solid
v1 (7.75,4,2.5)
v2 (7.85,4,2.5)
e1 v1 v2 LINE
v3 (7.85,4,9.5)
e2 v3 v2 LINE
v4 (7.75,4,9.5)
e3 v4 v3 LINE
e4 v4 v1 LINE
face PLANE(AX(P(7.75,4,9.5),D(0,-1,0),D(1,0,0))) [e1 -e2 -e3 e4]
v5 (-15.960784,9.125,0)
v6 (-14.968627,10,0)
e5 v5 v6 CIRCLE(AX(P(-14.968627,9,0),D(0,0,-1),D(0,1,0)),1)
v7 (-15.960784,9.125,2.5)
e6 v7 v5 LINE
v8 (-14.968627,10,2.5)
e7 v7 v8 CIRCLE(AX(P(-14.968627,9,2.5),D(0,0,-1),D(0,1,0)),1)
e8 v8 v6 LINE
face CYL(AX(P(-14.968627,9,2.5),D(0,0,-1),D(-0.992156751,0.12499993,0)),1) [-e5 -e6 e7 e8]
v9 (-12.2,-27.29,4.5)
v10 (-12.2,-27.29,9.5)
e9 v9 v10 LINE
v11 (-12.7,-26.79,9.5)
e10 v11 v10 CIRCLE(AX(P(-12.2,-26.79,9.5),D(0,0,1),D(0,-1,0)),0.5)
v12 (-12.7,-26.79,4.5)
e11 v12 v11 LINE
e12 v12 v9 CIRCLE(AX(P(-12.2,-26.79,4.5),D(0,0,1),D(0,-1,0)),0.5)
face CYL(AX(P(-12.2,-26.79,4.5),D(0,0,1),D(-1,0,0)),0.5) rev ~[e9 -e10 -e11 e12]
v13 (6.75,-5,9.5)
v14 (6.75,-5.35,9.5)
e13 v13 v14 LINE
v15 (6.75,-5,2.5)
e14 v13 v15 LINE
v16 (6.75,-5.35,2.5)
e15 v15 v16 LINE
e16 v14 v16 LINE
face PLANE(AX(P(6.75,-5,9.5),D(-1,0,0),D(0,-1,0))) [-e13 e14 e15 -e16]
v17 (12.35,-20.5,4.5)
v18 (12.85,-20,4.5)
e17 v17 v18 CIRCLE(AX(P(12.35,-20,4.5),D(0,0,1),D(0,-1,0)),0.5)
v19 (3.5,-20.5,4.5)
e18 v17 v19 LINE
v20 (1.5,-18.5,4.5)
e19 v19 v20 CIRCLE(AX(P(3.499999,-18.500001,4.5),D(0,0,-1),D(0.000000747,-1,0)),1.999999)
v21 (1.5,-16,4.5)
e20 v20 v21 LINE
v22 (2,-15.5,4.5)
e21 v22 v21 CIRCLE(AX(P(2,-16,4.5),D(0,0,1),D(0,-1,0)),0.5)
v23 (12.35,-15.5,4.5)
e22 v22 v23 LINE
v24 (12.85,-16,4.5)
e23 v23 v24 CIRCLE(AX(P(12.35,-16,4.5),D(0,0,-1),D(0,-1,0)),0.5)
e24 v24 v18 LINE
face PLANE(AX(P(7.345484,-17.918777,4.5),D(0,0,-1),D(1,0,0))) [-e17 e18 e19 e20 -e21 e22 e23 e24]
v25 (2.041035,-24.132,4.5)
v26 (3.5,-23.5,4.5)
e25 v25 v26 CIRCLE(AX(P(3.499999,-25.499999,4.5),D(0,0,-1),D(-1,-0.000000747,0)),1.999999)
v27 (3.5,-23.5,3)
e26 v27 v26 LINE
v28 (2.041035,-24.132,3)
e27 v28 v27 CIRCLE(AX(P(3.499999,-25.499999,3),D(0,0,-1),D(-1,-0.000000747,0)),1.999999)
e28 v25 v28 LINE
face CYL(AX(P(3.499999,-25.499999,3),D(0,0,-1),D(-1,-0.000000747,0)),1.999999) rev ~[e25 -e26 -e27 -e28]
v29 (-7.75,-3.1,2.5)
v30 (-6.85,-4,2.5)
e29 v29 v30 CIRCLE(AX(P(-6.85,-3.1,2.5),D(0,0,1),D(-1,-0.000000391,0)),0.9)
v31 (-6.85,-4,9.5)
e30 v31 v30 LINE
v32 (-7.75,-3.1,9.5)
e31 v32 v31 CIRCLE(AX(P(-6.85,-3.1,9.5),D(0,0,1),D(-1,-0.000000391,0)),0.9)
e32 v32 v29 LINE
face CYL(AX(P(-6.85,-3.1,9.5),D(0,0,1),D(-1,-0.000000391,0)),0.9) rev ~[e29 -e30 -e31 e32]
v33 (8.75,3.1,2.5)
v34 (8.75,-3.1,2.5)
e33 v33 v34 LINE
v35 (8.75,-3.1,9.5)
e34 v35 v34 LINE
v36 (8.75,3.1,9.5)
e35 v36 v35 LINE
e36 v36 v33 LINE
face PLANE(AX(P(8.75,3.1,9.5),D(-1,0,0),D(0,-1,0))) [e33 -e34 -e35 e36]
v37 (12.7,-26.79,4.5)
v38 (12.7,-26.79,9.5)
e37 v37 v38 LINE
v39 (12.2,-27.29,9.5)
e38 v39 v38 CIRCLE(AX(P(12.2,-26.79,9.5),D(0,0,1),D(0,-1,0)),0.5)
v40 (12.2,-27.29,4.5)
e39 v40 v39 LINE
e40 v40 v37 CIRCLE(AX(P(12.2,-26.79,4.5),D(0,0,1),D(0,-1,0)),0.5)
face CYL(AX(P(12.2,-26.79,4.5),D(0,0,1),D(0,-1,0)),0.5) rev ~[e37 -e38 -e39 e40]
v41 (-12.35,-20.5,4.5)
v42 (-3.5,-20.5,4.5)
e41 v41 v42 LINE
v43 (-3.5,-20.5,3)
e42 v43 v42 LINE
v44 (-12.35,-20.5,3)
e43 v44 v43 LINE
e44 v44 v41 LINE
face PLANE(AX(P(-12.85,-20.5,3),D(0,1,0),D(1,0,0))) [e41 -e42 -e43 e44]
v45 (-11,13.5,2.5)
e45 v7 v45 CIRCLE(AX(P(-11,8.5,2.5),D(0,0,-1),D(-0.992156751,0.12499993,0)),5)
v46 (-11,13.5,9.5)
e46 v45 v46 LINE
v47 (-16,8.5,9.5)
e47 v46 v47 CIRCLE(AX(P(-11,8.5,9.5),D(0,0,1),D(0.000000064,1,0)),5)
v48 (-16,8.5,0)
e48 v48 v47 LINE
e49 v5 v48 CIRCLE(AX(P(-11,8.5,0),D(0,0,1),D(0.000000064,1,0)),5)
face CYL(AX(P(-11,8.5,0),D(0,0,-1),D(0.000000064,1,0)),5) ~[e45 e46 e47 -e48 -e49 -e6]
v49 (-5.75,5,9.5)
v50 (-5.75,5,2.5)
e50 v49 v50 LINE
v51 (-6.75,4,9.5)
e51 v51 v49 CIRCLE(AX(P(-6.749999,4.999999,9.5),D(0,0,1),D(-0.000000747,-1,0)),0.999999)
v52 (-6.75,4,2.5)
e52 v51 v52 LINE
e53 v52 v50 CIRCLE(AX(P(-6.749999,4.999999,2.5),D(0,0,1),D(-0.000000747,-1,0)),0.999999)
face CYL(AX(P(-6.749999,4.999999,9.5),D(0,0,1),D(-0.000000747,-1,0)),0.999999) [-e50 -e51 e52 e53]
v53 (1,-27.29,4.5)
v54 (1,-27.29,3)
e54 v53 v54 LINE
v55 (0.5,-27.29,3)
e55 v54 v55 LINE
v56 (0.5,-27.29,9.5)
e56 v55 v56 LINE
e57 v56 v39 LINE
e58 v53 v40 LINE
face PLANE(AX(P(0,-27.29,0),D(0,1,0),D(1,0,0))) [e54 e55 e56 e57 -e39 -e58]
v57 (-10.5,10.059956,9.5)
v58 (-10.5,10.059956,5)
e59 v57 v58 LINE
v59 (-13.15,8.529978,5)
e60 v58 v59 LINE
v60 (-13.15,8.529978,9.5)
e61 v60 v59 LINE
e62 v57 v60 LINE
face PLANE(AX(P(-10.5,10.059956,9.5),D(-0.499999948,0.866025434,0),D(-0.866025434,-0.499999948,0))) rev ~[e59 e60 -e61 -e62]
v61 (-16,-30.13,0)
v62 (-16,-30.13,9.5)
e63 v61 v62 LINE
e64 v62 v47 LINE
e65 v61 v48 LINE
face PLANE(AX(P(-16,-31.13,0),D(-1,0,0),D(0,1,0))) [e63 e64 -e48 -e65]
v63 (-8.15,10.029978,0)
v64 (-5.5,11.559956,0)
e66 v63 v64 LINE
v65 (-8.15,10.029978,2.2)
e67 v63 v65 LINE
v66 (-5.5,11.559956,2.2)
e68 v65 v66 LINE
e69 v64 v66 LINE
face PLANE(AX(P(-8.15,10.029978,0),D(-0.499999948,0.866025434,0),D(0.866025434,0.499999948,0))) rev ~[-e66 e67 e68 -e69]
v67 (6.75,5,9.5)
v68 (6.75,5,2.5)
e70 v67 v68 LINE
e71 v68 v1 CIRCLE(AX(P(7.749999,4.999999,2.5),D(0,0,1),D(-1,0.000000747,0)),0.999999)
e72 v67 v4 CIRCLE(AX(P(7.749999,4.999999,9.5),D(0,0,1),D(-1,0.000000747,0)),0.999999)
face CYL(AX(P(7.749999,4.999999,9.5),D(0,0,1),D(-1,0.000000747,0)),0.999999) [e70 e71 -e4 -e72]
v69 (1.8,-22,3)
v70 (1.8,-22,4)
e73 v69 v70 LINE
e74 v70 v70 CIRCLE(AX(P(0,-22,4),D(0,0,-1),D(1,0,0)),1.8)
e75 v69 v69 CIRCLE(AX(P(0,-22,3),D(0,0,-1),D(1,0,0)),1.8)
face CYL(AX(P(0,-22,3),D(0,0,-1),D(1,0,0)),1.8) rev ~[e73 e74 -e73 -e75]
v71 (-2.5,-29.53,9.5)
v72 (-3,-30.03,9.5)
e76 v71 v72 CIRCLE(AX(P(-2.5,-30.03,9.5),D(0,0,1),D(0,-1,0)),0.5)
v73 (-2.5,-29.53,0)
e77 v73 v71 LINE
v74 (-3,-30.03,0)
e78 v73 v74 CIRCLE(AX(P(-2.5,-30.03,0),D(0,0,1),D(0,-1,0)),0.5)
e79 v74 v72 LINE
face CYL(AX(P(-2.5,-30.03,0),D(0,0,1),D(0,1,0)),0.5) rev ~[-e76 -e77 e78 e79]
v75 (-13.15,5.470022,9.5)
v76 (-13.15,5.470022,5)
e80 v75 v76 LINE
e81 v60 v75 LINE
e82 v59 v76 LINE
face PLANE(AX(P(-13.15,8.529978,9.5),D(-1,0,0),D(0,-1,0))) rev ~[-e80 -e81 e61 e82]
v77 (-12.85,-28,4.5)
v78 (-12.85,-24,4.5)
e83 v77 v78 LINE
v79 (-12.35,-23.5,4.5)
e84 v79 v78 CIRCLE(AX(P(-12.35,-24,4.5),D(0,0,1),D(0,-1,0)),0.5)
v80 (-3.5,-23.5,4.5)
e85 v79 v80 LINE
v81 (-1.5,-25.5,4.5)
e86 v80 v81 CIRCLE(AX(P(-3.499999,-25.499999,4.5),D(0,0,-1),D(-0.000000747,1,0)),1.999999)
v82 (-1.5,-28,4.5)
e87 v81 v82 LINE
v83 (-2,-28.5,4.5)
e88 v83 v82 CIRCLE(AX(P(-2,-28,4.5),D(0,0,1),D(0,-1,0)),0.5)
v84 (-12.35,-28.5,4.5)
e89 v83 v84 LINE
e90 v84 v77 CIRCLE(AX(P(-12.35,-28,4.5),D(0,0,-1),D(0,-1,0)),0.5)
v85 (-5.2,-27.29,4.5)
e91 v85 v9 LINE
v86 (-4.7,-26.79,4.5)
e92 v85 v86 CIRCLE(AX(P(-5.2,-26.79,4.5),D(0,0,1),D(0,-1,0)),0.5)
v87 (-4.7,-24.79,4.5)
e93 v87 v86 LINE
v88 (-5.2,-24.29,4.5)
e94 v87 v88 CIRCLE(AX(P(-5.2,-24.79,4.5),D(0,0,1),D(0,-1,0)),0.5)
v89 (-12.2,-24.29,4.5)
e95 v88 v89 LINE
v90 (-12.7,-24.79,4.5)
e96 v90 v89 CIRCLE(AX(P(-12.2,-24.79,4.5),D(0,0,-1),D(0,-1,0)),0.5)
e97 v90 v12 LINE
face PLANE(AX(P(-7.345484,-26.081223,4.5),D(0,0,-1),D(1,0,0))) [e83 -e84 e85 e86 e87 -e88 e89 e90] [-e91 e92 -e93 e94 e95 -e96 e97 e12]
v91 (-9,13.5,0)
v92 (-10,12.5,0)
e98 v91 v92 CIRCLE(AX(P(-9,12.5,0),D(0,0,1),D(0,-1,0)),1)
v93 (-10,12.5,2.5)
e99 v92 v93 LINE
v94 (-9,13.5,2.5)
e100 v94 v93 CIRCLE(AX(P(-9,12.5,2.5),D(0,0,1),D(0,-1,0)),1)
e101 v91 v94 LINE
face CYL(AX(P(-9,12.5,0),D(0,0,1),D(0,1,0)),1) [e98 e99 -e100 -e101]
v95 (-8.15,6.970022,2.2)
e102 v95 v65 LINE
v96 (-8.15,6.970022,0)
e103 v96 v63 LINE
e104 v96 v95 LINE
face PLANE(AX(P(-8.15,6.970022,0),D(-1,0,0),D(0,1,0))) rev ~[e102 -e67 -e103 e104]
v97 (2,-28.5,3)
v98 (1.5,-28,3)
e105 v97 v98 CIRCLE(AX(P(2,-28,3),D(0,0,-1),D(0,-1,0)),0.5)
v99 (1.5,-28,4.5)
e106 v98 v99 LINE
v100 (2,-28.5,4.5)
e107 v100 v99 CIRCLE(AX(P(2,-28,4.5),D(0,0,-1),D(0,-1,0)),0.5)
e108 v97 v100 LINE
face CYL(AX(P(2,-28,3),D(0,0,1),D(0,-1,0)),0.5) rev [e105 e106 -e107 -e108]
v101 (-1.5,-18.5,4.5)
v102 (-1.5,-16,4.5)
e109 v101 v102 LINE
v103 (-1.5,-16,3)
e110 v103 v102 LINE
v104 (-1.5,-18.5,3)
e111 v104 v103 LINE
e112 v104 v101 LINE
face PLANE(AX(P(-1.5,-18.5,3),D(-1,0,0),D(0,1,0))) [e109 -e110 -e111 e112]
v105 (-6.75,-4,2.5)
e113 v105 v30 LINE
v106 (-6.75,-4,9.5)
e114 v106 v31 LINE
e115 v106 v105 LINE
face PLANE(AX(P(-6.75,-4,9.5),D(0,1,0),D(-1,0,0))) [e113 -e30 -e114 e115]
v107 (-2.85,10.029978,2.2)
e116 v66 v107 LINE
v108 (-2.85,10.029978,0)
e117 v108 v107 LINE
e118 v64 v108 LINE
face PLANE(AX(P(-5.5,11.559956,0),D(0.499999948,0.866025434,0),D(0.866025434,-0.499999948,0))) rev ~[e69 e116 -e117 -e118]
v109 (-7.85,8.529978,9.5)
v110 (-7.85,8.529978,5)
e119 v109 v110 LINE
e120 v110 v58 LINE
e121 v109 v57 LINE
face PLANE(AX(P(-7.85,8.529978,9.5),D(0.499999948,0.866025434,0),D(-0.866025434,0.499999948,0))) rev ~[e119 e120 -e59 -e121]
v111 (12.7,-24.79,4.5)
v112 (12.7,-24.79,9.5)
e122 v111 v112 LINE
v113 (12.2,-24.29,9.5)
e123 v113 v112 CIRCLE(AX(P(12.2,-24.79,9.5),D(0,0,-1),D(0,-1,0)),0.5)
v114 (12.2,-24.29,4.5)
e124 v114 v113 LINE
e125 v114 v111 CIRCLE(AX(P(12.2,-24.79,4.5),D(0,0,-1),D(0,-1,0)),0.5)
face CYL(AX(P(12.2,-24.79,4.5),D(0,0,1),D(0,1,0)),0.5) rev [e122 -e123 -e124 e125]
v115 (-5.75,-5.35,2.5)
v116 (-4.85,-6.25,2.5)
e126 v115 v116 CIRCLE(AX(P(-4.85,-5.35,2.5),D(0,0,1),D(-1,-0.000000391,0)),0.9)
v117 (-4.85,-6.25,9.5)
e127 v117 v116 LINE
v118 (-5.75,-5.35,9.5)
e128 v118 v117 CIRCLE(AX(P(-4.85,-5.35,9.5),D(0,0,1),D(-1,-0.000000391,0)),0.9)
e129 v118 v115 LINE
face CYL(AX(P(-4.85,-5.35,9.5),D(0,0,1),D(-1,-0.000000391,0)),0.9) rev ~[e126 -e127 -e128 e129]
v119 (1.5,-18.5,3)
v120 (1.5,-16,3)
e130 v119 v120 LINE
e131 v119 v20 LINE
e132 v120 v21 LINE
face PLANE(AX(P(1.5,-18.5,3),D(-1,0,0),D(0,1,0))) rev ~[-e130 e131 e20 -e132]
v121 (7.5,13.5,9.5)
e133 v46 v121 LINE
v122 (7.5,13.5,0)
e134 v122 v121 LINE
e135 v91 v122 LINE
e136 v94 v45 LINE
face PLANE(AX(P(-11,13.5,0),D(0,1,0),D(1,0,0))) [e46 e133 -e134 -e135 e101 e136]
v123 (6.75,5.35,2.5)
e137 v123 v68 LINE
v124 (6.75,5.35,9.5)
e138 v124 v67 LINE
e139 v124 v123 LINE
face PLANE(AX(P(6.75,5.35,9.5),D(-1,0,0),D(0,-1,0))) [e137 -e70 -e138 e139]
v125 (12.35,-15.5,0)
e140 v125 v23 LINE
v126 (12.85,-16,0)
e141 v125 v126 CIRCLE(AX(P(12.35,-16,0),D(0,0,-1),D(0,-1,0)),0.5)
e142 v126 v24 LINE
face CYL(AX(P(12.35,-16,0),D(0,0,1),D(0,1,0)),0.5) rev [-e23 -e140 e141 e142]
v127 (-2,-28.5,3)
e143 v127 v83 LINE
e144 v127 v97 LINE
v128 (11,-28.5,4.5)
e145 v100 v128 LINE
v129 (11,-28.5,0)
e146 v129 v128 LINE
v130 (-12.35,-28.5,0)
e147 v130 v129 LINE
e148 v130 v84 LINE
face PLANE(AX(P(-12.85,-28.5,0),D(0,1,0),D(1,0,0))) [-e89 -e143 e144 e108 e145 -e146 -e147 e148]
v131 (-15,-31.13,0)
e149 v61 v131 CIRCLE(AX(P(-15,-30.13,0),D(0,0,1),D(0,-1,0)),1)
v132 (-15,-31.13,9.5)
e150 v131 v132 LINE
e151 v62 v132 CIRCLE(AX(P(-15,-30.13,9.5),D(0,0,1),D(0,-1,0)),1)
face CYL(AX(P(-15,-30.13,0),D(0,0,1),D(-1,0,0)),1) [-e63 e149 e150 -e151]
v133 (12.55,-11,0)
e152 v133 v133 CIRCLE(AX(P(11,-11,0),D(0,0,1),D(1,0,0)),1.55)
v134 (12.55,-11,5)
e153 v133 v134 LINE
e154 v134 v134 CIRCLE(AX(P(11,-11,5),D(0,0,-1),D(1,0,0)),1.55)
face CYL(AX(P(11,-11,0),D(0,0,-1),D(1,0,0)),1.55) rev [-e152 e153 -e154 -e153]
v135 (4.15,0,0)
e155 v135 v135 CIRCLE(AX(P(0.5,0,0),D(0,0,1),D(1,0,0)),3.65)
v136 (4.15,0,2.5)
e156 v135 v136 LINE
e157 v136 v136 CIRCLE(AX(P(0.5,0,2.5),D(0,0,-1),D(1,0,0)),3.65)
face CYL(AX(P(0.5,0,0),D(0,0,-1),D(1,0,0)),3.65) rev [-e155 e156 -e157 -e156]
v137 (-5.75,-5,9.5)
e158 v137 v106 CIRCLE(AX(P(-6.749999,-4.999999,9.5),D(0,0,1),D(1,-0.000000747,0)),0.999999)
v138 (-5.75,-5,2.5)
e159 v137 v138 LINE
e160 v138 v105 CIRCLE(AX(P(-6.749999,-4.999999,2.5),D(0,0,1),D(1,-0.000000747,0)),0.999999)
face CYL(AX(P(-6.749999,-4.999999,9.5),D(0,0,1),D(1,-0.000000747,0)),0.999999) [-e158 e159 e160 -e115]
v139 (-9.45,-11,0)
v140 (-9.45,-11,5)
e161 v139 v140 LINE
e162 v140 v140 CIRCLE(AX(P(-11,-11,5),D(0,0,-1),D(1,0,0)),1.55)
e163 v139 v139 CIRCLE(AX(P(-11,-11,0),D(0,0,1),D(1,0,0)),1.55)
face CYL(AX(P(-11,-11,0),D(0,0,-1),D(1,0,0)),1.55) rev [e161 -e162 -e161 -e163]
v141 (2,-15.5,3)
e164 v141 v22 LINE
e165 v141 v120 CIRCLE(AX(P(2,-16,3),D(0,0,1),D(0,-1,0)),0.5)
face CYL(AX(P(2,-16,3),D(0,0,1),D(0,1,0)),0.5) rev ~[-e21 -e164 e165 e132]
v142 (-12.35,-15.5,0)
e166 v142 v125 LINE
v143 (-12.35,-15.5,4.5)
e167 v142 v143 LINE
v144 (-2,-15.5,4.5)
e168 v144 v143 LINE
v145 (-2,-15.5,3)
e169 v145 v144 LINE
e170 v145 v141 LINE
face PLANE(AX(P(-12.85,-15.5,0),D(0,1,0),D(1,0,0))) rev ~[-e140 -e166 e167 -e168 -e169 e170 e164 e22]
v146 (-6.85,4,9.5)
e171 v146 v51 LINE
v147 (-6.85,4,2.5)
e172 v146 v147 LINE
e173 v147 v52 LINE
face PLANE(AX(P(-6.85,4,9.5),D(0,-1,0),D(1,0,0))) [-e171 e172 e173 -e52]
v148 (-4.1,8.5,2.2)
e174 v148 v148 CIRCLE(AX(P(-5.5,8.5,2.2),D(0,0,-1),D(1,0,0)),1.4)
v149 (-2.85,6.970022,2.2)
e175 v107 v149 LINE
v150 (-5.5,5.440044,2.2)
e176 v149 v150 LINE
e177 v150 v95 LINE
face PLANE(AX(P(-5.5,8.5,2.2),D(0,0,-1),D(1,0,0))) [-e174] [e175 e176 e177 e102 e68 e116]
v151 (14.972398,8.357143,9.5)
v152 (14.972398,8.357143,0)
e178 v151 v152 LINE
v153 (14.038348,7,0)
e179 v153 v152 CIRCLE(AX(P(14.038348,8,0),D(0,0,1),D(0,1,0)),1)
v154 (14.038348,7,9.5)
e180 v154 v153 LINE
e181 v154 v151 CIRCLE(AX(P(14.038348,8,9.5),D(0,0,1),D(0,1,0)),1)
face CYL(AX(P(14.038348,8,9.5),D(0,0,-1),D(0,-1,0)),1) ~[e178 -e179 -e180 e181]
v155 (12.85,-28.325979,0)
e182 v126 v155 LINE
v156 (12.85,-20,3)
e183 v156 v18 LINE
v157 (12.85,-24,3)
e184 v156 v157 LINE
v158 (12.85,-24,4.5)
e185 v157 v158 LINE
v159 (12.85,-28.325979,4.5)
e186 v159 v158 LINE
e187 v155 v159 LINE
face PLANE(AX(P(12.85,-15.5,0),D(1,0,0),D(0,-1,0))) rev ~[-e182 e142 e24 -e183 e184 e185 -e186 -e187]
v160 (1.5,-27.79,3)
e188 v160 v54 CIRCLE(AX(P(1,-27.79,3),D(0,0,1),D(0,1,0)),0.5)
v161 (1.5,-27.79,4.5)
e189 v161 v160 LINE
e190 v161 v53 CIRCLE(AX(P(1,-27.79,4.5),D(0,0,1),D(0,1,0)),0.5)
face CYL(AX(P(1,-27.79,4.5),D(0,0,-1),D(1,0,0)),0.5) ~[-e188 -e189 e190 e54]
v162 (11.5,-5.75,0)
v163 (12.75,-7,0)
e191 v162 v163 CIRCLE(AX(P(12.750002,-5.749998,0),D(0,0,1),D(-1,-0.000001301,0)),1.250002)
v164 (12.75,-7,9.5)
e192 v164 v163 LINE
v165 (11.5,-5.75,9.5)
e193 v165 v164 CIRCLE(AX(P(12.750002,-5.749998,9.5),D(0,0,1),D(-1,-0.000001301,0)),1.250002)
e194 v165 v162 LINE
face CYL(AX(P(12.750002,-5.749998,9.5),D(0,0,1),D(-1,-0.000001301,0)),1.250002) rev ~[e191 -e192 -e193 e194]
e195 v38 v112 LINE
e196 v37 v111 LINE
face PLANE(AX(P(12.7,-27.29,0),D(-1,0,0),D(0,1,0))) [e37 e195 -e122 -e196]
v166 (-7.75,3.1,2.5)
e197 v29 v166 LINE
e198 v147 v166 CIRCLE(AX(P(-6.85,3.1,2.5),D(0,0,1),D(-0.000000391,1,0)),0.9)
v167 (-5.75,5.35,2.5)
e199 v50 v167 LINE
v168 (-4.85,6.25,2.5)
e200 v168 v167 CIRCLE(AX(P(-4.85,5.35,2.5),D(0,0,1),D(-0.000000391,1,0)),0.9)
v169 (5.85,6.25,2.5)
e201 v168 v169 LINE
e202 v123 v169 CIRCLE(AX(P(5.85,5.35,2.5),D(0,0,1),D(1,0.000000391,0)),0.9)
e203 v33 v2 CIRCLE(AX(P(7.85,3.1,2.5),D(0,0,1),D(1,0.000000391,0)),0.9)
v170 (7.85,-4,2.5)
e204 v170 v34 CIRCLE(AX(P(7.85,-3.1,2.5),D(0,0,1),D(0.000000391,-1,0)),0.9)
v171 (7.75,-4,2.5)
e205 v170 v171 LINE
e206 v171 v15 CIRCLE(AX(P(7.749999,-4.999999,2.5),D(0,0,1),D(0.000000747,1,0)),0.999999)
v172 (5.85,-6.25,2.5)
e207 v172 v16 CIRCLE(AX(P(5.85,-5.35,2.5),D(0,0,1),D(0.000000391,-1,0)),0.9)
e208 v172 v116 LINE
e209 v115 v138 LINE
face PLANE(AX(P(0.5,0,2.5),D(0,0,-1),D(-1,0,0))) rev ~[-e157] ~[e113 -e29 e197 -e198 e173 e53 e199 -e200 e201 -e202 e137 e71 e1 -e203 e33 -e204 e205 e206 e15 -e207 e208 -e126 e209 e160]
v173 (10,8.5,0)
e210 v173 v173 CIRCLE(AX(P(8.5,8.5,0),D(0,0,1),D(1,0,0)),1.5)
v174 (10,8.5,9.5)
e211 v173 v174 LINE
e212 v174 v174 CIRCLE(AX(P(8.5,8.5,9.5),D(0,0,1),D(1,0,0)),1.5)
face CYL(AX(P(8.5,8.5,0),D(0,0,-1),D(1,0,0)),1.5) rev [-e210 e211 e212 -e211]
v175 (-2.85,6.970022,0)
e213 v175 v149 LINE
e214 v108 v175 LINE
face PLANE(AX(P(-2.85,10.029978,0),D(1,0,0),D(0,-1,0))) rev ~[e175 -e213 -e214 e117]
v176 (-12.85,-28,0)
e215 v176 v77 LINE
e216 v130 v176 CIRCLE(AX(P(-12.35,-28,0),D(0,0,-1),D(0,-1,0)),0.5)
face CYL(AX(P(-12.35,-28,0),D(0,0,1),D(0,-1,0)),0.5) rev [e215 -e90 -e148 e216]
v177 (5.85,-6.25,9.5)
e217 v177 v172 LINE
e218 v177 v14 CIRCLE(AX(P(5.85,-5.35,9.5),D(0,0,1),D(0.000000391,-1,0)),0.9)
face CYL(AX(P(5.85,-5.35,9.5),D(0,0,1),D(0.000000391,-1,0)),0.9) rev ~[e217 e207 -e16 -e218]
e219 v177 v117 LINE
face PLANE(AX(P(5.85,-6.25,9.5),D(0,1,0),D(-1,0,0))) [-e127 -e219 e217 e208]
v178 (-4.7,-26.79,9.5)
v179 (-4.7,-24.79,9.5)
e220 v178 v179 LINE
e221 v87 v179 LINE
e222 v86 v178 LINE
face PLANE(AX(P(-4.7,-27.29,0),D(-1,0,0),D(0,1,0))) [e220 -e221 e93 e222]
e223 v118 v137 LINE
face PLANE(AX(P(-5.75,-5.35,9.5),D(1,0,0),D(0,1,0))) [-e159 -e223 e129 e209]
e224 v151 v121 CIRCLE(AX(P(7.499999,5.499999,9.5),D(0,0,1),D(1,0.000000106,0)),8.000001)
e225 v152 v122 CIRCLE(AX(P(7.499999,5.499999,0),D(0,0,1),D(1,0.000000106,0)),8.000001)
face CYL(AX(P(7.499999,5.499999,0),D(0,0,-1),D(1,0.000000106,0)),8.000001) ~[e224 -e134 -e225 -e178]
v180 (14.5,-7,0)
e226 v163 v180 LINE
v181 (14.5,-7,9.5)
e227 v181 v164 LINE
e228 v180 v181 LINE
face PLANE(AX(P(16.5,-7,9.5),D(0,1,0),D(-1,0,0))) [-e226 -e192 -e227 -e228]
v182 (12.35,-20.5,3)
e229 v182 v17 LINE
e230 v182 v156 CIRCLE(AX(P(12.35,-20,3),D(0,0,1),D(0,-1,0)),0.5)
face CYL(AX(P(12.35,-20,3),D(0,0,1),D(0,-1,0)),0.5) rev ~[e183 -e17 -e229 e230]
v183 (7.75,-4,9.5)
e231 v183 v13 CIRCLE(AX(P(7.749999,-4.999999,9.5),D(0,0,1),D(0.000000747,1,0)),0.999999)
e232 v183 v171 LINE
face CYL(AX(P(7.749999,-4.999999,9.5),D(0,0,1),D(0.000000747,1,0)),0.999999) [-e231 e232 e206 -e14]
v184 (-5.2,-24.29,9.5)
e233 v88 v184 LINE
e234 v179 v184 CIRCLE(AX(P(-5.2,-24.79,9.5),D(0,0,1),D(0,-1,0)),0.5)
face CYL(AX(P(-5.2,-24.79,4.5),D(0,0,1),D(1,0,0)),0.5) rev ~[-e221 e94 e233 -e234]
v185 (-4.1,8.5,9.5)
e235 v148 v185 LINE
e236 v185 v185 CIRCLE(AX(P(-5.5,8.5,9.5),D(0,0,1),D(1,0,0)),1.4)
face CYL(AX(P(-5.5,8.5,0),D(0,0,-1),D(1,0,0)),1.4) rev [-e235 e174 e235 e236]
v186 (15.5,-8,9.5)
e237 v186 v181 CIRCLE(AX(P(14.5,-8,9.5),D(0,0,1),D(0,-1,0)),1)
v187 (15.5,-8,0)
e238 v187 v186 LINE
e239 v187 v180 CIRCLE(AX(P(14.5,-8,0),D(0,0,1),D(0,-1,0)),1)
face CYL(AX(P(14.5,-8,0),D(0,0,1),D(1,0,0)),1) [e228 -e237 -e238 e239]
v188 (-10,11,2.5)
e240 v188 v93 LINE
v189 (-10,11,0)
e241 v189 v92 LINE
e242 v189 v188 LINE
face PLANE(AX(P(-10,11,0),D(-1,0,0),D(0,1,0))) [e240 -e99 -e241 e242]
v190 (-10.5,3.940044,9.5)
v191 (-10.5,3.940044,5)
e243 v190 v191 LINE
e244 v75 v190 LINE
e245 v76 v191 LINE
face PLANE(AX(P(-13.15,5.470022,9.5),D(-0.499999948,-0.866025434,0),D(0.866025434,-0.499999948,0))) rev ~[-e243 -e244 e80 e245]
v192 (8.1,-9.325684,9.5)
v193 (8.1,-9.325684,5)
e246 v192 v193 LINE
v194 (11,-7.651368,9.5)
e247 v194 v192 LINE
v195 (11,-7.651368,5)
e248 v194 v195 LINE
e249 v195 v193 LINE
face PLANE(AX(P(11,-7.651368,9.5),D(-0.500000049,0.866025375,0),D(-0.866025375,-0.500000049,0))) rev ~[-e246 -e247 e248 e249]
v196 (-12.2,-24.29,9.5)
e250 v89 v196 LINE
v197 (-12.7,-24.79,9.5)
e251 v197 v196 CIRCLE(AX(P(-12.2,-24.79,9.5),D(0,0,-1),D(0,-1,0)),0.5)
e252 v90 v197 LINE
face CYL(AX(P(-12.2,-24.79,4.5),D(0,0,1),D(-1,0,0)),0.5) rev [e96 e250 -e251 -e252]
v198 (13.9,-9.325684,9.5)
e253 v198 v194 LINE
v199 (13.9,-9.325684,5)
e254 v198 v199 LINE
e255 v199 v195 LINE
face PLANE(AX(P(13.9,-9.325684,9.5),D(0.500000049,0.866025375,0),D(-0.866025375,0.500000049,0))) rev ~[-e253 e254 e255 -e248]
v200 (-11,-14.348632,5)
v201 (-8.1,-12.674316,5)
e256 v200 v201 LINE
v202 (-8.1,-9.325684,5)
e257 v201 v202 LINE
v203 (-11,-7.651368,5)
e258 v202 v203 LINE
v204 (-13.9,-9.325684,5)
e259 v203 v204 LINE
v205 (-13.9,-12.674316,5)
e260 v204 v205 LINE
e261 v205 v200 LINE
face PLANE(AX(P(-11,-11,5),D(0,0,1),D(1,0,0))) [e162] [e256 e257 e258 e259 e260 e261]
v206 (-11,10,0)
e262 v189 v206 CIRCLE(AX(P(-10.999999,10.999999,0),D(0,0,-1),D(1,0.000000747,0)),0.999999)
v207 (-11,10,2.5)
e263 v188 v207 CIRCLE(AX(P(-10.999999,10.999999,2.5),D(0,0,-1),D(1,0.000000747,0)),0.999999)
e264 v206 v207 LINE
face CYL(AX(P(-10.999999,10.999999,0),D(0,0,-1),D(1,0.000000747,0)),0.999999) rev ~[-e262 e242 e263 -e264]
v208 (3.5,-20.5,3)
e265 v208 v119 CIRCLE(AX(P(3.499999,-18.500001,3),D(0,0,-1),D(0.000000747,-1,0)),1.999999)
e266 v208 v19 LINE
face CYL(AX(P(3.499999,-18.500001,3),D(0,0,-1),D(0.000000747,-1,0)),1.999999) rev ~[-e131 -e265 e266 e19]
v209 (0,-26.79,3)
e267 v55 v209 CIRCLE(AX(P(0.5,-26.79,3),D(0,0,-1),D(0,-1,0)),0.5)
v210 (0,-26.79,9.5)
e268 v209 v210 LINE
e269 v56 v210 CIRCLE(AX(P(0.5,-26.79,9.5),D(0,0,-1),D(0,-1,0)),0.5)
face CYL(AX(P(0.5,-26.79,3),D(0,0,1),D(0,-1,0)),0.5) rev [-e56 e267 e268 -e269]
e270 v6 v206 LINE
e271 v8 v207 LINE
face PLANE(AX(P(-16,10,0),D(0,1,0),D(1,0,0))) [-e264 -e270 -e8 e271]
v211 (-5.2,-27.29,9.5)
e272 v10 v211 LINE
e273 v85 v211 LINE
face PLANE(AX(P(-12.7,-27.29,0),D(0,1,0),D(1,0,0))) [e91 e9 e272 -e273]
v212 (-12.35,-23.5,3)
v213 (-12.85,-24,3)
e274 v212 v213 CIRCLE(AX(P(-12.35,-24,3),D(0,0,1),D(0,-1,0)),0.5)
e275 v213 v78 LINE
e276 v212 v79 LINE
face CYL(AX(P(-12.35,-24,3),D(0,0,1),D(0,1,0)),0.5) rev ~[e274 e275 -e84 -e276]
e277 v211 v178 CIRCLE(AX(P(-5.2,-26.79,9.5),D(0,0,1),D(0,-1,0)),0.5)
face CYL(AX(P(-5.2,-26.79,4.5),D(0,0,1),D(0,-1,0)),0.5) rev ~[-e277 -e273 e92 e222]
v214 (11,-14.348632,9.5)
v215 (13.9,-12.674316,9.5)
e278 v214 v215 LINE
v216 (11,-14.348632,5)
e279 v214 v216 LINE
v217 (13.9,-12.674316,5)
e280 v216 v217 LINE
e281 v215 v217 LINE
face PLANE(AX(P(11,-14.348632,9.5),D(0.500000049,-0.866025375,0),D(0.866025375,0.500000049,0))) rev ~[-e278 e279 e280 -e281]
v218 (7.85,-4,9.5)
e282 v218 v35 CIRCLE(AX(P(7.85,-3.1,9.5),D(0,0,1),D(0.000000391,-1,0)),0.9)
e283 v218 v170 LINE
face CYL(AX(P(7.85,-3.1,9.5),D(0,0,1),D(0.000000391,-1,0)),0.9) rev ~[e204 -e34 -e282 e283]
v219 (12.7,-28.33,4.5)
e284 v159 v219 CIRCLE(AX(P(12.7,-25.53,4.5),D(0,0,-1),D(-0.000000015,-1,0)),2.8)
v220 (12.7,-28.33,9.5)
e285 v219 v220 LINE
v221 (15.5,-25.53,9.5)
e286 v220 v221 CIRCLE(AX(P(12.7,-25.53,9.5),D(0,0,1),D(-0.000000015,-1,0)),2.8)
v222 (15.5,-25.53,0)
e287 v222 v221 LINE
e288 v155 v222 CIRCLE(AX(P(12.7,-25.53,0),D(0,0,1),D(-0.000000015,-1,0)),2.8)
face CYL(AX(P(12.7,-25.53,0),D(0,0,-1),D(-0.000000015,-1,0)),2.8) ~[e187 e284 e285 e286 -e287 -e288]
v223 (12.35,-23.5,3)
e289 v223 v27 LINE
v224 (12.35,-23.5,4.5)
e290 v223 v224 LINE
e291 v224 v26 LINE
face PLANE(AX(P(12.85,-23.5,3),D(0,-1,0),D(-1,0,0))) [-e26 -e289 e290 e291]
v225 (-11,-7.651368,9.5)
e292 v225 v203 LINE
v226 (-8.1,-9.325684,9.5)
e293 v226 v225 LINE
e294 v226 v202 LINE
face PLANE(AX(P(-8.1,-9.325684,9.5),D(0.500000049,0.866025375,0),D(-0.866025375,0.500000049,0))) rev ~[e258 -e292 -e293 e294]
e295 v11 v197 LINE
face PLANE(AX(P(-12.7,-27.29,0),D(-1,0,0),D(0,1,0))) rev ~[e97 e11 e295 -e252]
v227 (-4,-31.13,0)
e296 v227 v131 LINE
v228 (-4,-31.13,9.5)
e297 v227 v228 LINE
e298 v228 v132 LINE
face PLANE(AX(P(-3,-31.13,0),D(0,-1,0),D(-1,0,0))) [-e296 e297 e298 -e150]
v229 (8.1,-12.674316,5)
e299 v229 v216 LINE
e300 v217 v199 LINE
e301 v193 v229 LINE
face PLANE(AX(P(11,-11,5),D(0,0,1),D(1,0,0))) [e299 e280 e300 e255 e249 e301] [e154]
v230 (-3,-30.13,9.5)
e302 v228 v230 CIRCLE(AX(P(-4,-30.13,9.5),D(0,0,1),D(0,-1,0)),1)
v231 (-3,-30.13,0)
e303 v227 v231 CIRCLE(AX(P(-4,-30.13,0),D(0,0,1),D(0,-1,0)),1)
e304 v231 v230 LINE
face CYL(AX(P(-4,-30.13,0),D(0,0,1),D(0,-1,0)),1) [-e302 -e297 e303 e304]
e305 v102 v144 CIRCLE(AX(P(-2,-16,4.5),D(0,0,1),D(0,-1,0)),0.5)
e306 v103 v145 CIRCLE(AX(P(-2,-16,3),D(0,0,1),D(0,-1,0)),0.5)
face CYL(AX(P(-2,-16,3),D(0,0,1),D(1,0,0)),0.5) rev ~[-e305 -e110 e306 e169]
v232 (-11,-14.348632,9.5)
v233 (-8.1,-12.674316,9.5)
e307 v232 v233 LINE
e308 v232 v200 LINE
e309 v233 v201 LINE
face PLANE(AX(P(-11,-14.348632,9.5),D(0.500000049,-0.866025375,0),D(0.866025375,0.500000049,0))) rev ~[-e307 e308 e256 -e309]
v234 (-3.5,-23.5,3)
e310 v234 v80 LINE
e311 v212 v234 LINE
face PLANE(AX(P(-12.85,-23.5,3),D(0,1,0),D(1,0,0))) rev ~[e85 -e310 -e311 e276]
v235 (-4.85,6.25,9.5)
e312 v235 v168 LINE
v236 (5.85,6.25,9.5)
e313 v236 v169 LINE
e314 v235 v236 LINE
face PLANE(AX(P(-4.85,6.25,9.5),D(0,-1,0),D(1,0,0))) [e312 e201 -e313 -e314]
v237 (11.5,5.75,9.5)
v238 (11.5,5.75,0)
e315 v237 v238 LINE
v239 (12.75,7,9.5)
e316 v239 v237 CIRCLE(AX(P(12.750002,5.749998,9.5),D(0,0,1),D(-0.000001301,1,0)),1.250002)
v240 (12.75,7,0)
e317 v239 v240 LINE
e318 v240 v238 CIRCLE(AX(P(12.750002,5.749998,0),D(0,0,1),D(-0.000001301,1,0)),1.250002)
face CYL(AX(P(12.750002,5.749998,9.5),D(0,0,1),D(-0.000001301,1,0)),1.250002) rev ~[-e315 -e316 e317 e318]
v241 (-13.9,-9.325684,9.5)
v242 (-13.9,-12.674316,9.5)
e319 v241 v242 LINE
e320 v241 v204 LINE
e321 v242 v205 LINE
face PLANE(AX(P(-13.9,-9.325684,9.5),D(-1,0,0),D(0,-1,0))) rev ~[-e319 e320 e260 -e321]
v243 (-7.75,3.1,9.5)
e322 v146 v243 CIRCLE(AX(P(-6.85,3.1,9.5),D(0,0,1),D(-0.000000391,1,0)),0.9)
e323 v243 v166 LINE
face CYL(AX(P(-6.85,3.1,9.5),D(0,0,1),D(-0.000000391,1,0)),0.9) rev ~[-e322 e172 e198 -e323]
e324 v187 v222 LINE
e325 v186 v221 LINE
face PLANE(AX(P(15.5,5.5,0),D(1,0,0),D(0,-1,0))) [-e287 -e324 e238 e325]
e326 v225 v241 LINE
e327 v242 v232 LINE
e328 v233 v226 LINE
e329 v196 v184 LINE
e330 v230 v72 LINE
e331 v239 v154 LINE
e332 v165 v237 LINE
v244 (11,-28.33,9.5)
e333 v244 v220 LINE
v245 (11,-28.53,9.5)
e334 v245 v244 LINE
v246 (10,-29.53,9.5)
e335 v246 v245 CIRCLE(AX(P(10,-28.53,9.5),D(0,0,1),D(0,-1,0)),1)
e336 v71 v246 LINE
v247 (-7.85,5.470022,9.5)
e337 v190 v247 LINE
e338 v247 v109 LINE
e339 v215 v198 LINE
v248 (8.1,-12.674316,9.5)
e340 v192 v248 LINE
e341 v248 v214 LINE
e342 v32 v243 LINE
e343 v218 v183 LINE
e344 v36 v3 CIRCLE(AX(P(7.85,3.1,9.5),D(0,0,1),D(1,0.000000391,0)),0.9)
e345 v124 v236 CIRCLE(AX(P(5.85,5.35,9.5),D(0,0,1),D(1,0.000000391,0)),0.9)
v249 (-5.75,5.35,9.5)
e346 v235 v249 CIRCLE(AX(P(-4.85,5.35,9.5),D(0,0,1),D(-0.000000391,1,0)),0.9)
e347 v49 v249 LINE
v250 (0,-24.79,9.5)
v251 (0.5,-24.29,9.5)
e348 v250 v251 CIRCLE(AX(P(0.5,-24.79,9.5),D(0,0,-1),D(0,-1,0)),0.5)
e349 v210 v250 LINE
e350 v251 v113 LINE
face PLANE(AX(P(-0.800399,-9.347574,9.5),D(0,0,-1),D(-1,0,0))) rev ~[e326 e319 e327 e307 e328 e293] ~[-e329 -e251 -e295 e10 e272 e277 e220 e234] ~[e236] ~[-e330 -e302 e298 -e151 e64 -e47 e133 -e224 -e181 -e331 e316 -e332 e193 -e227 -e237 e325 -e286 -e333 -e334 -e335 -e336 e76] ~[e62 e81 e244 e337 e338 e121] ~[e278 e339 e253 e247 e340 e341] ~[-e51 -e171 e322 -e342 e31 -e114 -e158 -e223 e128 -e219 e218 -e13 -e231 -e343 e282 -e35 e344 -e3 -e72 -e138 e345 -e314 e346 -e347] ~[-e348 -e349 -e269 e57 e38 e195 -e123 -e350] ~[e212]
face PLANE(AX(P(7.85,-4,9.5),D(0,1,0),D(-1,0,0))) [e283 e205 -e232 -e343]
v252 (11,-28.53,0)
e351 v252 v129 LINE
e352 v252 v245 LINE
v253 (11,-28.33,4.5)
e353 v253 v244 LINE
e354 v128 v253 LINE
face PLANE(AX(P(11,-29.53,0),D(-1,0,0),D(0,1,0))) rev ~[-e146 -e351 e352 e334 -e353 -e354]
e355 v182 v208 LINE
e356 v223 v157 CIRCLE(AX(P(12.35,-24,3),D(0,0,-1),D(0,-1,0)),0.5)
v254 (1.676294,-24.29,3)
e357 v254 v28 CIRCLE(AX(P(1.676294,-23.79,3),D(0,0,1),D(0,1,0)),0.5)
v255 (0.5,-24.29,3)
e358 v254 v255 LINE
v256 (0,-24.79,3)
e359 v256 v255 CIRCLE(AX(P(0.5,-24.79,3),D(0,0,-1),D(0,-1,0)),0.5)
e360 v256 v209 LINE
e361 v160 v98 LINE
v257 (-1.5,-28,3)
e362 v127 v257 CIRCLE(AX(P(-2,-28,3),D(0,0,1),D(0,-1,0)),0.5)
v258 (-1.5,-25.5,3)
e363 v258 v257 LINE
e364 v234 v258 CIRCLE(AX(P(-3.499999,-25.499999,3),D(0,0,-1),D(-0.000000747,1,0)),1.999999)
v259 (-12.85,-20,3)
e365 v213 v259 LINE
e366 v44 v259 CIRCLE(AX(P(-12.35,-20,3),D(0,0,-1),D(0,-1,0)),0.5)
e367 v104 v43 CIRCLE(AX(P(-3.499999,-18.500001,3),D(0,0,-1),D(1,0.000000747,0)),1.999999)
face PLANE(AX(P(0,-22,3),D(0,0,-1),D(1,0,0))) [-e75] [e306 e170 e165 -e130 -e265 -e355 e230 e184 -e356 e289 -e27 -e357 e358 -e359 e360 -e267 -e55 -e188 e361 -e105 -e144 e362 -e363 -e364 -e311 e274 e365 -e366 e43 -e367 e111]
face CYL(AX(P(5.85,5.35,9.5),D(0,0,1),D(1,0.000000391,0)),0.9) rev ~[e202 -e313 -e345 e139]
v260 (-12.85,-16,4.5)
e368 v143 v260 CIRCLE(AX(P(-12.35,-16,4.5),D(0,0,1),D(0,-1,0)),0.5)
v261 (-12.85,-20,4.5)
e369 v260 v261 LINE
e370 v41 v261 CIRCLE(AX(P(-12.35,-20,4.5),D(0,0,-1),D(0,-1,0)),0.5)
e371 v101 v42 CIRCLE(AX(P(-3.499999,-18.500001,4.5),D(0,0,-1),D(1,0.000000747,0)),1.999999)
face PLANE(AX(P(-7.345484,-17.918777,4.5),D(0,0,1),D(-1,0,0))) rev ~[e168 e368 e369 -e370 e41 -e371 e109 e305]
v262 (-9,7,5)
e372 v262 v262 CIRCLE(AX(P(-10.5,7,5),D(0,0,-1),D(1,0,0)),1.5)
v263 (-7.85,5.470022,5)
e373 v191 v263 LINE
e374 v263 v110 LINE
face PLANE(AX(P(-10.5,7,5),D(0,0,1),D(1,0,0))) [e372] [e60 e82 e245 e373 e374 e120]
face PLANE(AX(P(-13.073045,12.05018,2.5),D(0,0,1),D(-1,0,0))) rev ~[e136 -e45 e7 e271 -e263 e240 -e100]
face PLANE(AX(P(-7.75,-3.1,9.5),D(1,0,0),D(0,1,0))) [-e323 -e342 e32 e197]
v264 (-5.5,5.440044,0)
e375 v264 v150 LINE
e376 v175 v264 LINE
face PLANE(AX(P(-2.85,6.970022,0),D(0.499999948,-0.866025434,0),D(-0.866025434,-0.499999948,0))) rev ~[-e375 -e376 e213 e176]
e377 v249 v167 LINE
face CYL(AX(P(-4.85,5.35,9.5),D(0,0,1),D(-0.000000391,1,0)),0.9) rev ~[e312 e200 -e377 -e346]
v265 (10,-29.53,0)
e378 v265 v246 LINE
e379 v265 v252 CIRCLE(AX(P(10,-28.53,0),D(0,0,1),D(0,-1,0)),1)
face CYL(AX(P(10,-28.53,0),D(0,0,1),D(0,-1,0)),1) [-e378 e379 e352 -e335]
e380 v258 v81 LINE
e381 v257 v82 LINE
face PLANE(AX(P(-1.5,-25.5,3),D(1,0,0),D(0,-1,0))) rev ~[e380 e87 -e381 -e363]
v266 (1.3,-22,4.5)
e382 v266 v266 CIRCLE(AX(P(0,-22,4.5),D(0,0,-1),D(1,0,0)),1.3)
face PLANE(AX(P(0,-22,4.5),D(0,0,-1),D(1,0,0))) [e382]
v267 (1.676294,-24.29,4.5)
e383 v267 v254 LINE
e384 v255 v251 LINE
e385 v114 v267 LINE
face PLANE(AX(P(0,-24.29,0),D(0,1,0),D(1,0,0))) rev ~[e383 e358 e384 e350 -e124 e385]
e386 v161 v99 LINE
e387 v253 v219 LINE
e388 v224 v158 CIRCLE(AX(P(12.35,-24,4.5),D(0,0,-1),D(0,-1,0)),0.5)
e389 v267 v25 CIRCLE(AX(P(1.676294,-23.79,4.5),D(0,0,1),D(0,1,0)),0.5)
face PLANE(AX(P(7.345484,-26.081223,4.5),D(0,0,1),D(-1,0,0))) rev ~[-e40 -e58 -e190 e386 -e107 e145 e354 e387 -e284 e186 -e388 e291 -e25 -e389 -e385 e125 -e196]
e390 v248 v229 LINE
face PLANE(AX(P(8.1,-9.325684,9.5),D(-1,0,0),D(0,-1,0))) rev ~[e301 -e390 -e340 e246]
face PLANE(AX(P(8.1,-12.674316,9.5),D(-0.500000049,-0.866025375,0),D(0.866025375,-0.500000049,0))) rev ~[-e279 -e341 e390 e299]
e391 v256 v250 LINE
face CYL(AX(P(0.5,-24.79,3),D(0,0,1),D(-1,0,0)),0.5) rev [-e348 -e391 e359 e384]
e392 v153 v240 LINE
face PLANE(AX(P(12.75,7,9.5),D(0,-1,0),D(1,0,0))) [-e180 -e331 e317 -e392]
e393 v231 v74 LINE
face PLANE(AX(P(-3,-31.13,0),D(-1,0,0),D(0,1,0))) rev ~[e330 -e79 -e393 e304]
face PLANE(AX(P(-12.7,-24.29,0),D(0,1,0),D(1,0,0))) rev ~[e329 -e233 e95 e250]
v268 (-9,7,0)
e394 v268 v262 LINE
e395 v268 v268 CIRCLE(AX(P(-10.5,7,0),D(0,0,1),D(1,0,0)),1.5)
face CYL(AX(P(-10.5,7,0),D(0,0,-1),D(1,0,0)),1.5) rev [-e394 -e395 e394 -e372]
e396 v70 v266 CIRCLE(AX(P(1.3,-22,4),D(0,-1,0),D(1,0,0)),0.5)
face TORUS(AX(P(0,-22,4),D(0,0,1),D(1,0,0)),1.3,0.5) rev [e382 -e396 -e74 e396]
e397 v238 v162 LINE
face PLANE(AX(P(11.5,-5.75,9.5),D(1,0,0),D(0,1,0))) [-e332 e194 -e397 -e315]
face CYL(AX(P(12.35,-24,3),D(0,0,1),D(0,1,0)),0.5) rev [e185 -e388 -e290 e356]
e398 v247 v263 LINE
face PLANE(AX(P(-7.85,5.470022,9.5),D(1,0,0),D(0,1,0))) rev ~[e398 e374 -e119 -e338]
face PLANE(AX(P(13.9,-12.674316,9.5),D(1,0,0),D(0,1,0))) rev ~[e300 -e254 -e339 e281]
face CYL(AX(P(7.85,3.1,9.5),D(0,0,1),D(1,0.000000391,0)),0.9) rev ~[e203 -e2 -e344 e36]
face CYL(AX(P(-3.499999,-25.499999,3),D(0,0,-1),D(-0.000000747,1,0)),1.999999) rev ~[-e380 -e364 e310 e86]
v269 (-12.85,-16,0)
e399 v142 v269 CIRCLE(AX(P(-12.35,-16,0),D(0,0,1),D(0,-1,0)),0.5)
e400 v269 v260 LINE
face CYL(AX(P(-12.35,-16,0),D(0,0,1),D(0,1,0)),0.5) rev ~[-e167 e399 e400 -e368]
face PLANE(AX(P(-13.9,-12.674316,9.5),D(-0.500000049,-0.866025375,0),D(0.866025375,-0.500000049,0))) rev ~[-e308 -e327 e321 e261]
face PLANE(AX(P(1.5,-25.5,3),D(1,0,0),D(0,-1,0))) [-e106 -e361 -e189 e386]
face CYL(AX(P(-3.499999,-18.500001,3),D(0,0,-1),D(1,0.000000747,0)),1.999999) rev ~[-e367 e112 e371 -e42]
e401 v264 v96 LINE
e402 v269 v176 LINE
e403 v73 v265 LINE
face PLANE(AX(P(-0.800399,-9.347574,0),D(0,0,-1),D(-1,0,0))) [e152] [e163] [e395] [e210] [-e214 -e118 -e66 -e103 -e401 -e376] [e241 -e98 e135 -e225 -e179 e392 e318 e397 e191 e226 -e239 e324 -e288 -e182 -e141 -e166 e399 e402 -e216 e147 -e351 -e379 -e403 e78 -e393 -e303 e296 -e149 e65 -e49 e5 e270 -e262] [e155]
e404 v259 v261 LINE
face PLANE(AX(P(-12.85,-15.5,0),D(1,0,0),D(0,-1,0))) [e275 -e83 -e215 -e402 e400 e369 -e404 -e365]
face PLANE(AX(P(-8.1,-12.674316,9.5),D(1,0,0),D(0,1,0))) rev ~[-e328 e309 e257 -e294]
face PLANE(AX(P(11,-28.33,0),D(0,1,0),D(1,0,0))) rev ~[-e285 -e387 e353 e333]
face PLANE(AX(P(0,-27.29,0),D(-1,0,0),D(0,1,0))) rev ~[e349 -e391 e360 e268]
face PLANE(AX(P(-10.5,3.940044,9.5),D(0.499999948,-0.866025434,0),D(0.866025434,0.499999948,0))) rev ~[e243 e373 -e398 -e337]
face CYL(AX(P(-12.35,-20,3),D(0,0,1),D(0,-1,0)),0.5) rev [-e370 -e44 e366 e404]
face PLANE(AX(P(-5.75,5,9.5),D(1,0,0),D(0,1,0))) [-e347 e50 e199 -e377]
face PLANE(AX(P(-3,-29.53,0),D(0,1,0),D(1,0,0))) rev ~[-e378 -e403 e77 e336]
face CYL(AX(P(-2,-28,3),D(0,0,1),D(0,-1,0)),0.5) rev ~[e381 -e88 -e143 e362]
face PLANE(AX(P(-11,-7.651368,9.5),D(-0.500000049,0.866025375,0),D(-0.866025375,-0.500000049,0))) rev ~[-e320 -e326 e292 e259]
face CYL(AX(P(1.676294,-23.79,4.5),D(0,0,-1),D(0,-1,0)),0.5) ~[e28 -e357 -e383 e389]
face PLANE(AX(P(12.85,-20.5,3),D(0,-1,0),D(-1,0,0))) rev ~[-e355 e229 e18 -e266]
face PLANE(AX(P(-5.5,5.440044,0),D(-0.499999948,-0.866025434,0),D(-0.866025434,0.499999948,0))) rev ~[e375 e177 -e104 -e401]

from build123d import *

# Parameters (mm, degrees)
SKETCH_R        = 1.55
SKETCH_R_2      = 1.5
SKETCH_R_3      = 3.65
SKETCH_R_4      = 1.4
SKETCH_W        = 8
SKETCH_H        = 3
SKETCH_W_2      = 12.7
PAD_DEPTH       = 9.5
POCKET_DEPTH    = 7
POCKET001_DEPTH = 10
POCKET002_DEPTH = 4.5
POCKET003_DEPTH = 4.5
SKETCH005_W     = 25.7
SKETCH005_H     = 13
POCKET004_DEPTH = 3
POCKET006_DEPTH = 2.5
SKETCH006_R     = 1.8
POCKET007_DEPTH = 1.5
FILLET_R        = 1
FILLET001_R     = 0.5
POCKET008_DEPTH = 2.2


with BuildPart() as part:
    # Sketch → Pad (new body)
    with BuildSketch(Plane.XY):
        with BuildLine():
            Line((-11, 13.5), (7.5, 13.5))
            ThreePointArc((15.5, 5.5), (13.156854, 11.156854), (7.5, 13.5))
            Line((15.5, 5.5), (15.5, -25.53))
            ThreePointArc((12.7, -28.33), (14.679899, -27.509899), (15.5, -25.53))
            Line((11, -28.33), (12.7, -28.33))
            Line((11, -29.53), (11, -28.33))
            Line((-3, -29.53), (11, -29.53))
            Line((-3, -31.13), (-3, -29.53))
            Line((-3, -31.13), (-16, -31.13))
            Line((-16, -31.13), (-16, 8.5))
            ThreePointArc((-11, 13.5), (-14.535534, 12.035534), (-16, 8.5))
        make_face()
        with Locations((-11, -11)):
            Circle(SKETCH_R, mode=Mode.SUBTRACT)
        with Locations((11, -11)):
            Circle(SKETCH_R, mode=Mode.SUBTRACT)
        with Locations((8.5, 8.5)):
            Circle(SKETCH_R_2, mode=Mode.SUBTRACT)
        with Locations((-10.5, 7)):
            Circle(SKETCH_R_2, mode=Mode.SUBTRACT)
        with Locations((0.5, 0)):
            Circle(SKETCH_R_3, mode=Mode.SUBTRACT)
        with Locations((-5.5, 8.5)):
            Circle(SKETCH_R_4, mode=Mode.SUBTRACT)
        with Locations((-8.7, -25.79)):
            Rectangle(SKETCH_W, SKETCH_H, mode=Mode.SUBTRACT)
        with Locations((6.35, -25.79)):
            Rectangle(SKETCH_W_2, SKETCH_H, mode=Mode.SUBTRACT)
    extrude(amount=PAD_DEPTH)

    # Sketch002 (on Face27 of Pad) → Pocket (cut)
    with BuildSketch(Plane.XY.offset(9.5)):
        with BuildLine():
            Line((7.85, -4), (7.75, -4))
            ThreePointArc((7.75, -4), (7.042893, -4.292893), (6.75, -5))
            Line((6.75, -5), (6.75, -5.35))
            ThreePointArc((5.85, -6.25), (6.486396, -5.986396), (6.75, -5.35))
            Line((5.85, -6.25), (-4.85, -6.25))
            ThreePointArc((-5.75, -5.35), (-5.486396, -5.986396), (-4.85, -6.25))
            Line((-5.75, -5.35), (-5.75, -5))
            ThreePointArc((-5.75, -5), (-6.042893, -4.292893), (-6.75, -4))
            Line((-6.75, -4), (-6.85, -4))
            ThreePointArc((-7.75, -3.1), (-7.486396, -3.736396), (-6.85, -4))
            Line((-7.75, -3.1), (-7.75, 3.1))
            ThreePointArc((-6.85, 4), (-7.486396, 3.736396), (-7.75, 3.1))
            Line((-6.85, 4), (-6.75, 4))
            ThreePointArc((-6.75, 4), (-6.042893, 4.292893), (-5.75, 5))
            Line((-5.75, 5), (-5.75, 5.35))
            ThreePointArc((-4.85, 6.25), (-5.486396, 5.986396), (-5.75, 5.35))
            Line((-4.85, 6.25), (5.85, 6.25))
            ThreePointArc((6.75, 5.35), (6.486396, 5.986396), (5.85, 6.25))
            Line((6.75, 5.35), (6.75, 5))
            ThreePointArc((6.75, 5), (7.042893, 4.292893), (7.75, 4))
            Line((7.75, 4), (7.85, 4))
            ThreePointArc((8.75, 3.1), (8.486396, 3.736396), (7.85, 4))
            Line((8.75, 3.1), (8.75, -3.1))
            ThreePointArc((7.85, -4), (8.486396, -3.736396), (8.75, -3.1))
        make_face()
    extrude(amount=-POCKET_DEPTH, mode=Mode.SUBTRACT)

    # Sketch007 (on Face5 of Pocket) → Pocket001 (cut)
    with BuildSketch(Plane.XY.offset(9.5)):
        with BuildLine():
            Line((12.75, 7), (16.5, 7))
            Line((16.5, 7), (16.5, -7))
            Line((16.5, -7), (12.75, -7))
            ThreePointArc((11.5, -5.75), (11.866117, -6.633883), (12.75, -7))
            Line((11.5, -5.75), (11.5, 5.75))
            ThreePointArc((12.75, 7), (11.866117, 6.633883), (11.5, 5.75))
        make_face()
    extrude(amount=-POCKET001_DEPTH, mode=Mode.SUBTRACT)

    # Sketch008 (on Face5 of Pocket001) → Pocket002 (cut)
    with BuildSketch(Plane.XY.offset(9.5)):
        Polygon((-8.1, -12.674316), (-8.1, -9.325684), (-11, -7.651368), (-13.9, -9.325684), (-13.9, -12.674316), (-11, -14.348632), align=None)
        Polygon((13.9, -12.674316), (13.9, -9.325684), (11, -7.651368), (8.1, -9.325684), (8.1, -12.674316), (11, -14.348632), align=None)
    extrude(amount=-POCKET002_DEPTH, mode=Mode.SUBTRACT)

    # Sketch009 (on Face5 of Pocket002) → Pocket003 (cut)
    with BuildSketch(Plane.XY.offset(9.5)):
        Polygon((-7.85, 5.470022), (-7.85, 8.529978), (-10.5, 10.059956), (-13.15, 8.529978), (-13.15, 5.470022), (-10.5, 3.940044), align=None)
    extrude(amount=-POCKET003_DEPTH, mode=Mode.SUBTRACT)

    # Sketch005 (on Face4 of Pocket003) → Pocket004 (cut)
    with BuildSketch(Plane(origin=(0, 0, 0), x_dir=(1, 0, 0), z_dir=(0, 0, -1))):
        with Locations((0, 22)):
            Rectangle(SKETCH005_W, SKETCH005_H)
    extrude(amount=-POCKET004_DEPTH, mode=Mode.SUBTRACT)

    # Sketch010 → Pocket006 (cut)
    with BuildSketch(Plane(origin=(0, 0, 0), x_dir=(1, 0, 0), z_dir=(0, 0, -1))):
        with BuildLine():
            Line((-16, -10), (-11, -10))
            ThreePointArc((-10, -11), (-10.292893, -10.292893), (-11, -10))
            Line((-10, -11), (-10, -14))
            Line((-10, -14), (-16, -14))
            Line((-16, -14), (-16, -10))
        make_face()
    extrude(amount=-POCKET006_DEPTH, mode=Mode.SUBTRACT)

    # Sketch006 (on Face83 of Pocket006) → Pocket007 (cut)
    with BuildSketch(Plane(origin=(0, 0, 3), x_dir=(1, 0, 0), z_dir=(0, 0, -1))):
        with Locations((0, 22)):
            Circle(SKETCH006_R)
        with BuildLine():
            Line((-12.85, 20.5), (-3.5, 20.5))
            ThreePointArc((-1.5, 18.5), (-2.085786, 19.914214), (-3.5, 20.5))
            Line((-1.5, 18.5), (-1.5, 15.5))
            Line((-1.5, 15.5), (-12.85, 15.5))
            Line((-12.85, 15.5), (-12.85, 20.5))
        make_face()
        with BuildLine():
            Line((1.5, 15.5), (12.85, 15.5))
            Line((12.85, 15.5), (12.85, 20.5))
            Line((12.85, 20.5), (3.5, 20.5))
            ThreePointArc((3.5, 20.5), (2.085786, 19.914214), (1.5, 18.5))
            Line((1.5, 18.5), (1.5, 15.5))
        make_face()
        with BuildLine():
            Line((-12.85, 23.5), (-3.5, 23.5))
            ThreePointArc((-3.5, 23.5), (-2.085786, 24.085786), (-1.5, 25.5))
            Line((-1.5, 25.5), (-1.5, 28.5))
            Line((-1.5, 28.5), (-12.85, 28.5))
            Line((-12.85, 28.5), (-12.85, 23.5))
        make_face()
        with BuildLine():
            Line((1.5, 28.5), (12.85, 28.5))
            Line((12.85, 28.5), (12.85, 23.5))
            Line((12.85, 23.5), (3.5, 23.5))
            ThreePointArc((1.5, 25.5), (2.085786, 24.085786), (3.5, 23.5))
            Line((1.5, 25.5), (1.5, 28.5))
        make_face()
    extrude(amount=-POCKET007_DEPTH, mode=Mode.SUBTRACT)

    # Fillet
    fillet_edges = [part.edges().sort_by_distance(p)[0] for p in [
        (15.358117, 7, 4.75),
        (15.5, -7, 4.75),
        (11, -29.53, 4.75),
        (-3, -31.13, 4.75),
        (-16, -31.13, 4.75),
        (-15.769696, 10, 1.25),
        (-10, 13.5, 1.25),
    ]]
    fillet(fillet_edges, radius=FILLET_R)

    # Fillet001
    fillet001_edges = [part.edges().sort_by_distance(p)[0] for p in [
        (-3, -29.53, 4.75),
        (-12.85, -15.5, 1.5),
        (-12.85, -15.5, 3.75),
        (1.5, -15.5, 3.75),
        (-12.85, -23.5, 3.75),
        (-12.85, -28.5, 3.75),
        (-12.85, -28.5, 1.5),
        (-12.85, -20.5, 3.75),
        (-12.7, -27.29, 7),
        (-1.5, -15.5, 3.75),
        (-4.7, -24.29, 7),
        (-4.7, -27.29, 7),
        (-12.7, -24.29, 7),
        (-1.5, -28.5, 3.75),
        (1.5, -28.5, 3.75),
        (1.5, -27.29, 3.75),
        (0, -27.29, 6.25),
        (0, -24.29, 6.25),
        (1.907549, -24.29, 3.75),
        (12.85, -20.5, 3.75),
        (12.7, -27.29, 7),
        (12.85, -23.5, 3.75),
        (12.85, -15.5, 3.75),
        (12.85, -15.5, 1.5),
        (12.7, -24.29, 7),
        (-1.8, -22, 4.5),
    ]]
    fillet(fillet001_edges, radius=FILLET001_R)

    # Sketch011 (on Face1 of Fillet001) → Pocket008 (cut)
    with BuildSketch(Plane(origin=(0, 0, 0), x_dir=(1, 0, 0), z_dir=(0, 0, -1))):
        Polygon((-2.85, -10.029978), (-2.85, -6.970022), (-5.5, -5.440044), (-8.15, -6.970022), (-8.15, -10.029978), (-5.5, -11.559956), align=None)
    extrude(amount=-POCKET008_DEPTH, mode=Mode.SUBTRACT)


solid = part.part
